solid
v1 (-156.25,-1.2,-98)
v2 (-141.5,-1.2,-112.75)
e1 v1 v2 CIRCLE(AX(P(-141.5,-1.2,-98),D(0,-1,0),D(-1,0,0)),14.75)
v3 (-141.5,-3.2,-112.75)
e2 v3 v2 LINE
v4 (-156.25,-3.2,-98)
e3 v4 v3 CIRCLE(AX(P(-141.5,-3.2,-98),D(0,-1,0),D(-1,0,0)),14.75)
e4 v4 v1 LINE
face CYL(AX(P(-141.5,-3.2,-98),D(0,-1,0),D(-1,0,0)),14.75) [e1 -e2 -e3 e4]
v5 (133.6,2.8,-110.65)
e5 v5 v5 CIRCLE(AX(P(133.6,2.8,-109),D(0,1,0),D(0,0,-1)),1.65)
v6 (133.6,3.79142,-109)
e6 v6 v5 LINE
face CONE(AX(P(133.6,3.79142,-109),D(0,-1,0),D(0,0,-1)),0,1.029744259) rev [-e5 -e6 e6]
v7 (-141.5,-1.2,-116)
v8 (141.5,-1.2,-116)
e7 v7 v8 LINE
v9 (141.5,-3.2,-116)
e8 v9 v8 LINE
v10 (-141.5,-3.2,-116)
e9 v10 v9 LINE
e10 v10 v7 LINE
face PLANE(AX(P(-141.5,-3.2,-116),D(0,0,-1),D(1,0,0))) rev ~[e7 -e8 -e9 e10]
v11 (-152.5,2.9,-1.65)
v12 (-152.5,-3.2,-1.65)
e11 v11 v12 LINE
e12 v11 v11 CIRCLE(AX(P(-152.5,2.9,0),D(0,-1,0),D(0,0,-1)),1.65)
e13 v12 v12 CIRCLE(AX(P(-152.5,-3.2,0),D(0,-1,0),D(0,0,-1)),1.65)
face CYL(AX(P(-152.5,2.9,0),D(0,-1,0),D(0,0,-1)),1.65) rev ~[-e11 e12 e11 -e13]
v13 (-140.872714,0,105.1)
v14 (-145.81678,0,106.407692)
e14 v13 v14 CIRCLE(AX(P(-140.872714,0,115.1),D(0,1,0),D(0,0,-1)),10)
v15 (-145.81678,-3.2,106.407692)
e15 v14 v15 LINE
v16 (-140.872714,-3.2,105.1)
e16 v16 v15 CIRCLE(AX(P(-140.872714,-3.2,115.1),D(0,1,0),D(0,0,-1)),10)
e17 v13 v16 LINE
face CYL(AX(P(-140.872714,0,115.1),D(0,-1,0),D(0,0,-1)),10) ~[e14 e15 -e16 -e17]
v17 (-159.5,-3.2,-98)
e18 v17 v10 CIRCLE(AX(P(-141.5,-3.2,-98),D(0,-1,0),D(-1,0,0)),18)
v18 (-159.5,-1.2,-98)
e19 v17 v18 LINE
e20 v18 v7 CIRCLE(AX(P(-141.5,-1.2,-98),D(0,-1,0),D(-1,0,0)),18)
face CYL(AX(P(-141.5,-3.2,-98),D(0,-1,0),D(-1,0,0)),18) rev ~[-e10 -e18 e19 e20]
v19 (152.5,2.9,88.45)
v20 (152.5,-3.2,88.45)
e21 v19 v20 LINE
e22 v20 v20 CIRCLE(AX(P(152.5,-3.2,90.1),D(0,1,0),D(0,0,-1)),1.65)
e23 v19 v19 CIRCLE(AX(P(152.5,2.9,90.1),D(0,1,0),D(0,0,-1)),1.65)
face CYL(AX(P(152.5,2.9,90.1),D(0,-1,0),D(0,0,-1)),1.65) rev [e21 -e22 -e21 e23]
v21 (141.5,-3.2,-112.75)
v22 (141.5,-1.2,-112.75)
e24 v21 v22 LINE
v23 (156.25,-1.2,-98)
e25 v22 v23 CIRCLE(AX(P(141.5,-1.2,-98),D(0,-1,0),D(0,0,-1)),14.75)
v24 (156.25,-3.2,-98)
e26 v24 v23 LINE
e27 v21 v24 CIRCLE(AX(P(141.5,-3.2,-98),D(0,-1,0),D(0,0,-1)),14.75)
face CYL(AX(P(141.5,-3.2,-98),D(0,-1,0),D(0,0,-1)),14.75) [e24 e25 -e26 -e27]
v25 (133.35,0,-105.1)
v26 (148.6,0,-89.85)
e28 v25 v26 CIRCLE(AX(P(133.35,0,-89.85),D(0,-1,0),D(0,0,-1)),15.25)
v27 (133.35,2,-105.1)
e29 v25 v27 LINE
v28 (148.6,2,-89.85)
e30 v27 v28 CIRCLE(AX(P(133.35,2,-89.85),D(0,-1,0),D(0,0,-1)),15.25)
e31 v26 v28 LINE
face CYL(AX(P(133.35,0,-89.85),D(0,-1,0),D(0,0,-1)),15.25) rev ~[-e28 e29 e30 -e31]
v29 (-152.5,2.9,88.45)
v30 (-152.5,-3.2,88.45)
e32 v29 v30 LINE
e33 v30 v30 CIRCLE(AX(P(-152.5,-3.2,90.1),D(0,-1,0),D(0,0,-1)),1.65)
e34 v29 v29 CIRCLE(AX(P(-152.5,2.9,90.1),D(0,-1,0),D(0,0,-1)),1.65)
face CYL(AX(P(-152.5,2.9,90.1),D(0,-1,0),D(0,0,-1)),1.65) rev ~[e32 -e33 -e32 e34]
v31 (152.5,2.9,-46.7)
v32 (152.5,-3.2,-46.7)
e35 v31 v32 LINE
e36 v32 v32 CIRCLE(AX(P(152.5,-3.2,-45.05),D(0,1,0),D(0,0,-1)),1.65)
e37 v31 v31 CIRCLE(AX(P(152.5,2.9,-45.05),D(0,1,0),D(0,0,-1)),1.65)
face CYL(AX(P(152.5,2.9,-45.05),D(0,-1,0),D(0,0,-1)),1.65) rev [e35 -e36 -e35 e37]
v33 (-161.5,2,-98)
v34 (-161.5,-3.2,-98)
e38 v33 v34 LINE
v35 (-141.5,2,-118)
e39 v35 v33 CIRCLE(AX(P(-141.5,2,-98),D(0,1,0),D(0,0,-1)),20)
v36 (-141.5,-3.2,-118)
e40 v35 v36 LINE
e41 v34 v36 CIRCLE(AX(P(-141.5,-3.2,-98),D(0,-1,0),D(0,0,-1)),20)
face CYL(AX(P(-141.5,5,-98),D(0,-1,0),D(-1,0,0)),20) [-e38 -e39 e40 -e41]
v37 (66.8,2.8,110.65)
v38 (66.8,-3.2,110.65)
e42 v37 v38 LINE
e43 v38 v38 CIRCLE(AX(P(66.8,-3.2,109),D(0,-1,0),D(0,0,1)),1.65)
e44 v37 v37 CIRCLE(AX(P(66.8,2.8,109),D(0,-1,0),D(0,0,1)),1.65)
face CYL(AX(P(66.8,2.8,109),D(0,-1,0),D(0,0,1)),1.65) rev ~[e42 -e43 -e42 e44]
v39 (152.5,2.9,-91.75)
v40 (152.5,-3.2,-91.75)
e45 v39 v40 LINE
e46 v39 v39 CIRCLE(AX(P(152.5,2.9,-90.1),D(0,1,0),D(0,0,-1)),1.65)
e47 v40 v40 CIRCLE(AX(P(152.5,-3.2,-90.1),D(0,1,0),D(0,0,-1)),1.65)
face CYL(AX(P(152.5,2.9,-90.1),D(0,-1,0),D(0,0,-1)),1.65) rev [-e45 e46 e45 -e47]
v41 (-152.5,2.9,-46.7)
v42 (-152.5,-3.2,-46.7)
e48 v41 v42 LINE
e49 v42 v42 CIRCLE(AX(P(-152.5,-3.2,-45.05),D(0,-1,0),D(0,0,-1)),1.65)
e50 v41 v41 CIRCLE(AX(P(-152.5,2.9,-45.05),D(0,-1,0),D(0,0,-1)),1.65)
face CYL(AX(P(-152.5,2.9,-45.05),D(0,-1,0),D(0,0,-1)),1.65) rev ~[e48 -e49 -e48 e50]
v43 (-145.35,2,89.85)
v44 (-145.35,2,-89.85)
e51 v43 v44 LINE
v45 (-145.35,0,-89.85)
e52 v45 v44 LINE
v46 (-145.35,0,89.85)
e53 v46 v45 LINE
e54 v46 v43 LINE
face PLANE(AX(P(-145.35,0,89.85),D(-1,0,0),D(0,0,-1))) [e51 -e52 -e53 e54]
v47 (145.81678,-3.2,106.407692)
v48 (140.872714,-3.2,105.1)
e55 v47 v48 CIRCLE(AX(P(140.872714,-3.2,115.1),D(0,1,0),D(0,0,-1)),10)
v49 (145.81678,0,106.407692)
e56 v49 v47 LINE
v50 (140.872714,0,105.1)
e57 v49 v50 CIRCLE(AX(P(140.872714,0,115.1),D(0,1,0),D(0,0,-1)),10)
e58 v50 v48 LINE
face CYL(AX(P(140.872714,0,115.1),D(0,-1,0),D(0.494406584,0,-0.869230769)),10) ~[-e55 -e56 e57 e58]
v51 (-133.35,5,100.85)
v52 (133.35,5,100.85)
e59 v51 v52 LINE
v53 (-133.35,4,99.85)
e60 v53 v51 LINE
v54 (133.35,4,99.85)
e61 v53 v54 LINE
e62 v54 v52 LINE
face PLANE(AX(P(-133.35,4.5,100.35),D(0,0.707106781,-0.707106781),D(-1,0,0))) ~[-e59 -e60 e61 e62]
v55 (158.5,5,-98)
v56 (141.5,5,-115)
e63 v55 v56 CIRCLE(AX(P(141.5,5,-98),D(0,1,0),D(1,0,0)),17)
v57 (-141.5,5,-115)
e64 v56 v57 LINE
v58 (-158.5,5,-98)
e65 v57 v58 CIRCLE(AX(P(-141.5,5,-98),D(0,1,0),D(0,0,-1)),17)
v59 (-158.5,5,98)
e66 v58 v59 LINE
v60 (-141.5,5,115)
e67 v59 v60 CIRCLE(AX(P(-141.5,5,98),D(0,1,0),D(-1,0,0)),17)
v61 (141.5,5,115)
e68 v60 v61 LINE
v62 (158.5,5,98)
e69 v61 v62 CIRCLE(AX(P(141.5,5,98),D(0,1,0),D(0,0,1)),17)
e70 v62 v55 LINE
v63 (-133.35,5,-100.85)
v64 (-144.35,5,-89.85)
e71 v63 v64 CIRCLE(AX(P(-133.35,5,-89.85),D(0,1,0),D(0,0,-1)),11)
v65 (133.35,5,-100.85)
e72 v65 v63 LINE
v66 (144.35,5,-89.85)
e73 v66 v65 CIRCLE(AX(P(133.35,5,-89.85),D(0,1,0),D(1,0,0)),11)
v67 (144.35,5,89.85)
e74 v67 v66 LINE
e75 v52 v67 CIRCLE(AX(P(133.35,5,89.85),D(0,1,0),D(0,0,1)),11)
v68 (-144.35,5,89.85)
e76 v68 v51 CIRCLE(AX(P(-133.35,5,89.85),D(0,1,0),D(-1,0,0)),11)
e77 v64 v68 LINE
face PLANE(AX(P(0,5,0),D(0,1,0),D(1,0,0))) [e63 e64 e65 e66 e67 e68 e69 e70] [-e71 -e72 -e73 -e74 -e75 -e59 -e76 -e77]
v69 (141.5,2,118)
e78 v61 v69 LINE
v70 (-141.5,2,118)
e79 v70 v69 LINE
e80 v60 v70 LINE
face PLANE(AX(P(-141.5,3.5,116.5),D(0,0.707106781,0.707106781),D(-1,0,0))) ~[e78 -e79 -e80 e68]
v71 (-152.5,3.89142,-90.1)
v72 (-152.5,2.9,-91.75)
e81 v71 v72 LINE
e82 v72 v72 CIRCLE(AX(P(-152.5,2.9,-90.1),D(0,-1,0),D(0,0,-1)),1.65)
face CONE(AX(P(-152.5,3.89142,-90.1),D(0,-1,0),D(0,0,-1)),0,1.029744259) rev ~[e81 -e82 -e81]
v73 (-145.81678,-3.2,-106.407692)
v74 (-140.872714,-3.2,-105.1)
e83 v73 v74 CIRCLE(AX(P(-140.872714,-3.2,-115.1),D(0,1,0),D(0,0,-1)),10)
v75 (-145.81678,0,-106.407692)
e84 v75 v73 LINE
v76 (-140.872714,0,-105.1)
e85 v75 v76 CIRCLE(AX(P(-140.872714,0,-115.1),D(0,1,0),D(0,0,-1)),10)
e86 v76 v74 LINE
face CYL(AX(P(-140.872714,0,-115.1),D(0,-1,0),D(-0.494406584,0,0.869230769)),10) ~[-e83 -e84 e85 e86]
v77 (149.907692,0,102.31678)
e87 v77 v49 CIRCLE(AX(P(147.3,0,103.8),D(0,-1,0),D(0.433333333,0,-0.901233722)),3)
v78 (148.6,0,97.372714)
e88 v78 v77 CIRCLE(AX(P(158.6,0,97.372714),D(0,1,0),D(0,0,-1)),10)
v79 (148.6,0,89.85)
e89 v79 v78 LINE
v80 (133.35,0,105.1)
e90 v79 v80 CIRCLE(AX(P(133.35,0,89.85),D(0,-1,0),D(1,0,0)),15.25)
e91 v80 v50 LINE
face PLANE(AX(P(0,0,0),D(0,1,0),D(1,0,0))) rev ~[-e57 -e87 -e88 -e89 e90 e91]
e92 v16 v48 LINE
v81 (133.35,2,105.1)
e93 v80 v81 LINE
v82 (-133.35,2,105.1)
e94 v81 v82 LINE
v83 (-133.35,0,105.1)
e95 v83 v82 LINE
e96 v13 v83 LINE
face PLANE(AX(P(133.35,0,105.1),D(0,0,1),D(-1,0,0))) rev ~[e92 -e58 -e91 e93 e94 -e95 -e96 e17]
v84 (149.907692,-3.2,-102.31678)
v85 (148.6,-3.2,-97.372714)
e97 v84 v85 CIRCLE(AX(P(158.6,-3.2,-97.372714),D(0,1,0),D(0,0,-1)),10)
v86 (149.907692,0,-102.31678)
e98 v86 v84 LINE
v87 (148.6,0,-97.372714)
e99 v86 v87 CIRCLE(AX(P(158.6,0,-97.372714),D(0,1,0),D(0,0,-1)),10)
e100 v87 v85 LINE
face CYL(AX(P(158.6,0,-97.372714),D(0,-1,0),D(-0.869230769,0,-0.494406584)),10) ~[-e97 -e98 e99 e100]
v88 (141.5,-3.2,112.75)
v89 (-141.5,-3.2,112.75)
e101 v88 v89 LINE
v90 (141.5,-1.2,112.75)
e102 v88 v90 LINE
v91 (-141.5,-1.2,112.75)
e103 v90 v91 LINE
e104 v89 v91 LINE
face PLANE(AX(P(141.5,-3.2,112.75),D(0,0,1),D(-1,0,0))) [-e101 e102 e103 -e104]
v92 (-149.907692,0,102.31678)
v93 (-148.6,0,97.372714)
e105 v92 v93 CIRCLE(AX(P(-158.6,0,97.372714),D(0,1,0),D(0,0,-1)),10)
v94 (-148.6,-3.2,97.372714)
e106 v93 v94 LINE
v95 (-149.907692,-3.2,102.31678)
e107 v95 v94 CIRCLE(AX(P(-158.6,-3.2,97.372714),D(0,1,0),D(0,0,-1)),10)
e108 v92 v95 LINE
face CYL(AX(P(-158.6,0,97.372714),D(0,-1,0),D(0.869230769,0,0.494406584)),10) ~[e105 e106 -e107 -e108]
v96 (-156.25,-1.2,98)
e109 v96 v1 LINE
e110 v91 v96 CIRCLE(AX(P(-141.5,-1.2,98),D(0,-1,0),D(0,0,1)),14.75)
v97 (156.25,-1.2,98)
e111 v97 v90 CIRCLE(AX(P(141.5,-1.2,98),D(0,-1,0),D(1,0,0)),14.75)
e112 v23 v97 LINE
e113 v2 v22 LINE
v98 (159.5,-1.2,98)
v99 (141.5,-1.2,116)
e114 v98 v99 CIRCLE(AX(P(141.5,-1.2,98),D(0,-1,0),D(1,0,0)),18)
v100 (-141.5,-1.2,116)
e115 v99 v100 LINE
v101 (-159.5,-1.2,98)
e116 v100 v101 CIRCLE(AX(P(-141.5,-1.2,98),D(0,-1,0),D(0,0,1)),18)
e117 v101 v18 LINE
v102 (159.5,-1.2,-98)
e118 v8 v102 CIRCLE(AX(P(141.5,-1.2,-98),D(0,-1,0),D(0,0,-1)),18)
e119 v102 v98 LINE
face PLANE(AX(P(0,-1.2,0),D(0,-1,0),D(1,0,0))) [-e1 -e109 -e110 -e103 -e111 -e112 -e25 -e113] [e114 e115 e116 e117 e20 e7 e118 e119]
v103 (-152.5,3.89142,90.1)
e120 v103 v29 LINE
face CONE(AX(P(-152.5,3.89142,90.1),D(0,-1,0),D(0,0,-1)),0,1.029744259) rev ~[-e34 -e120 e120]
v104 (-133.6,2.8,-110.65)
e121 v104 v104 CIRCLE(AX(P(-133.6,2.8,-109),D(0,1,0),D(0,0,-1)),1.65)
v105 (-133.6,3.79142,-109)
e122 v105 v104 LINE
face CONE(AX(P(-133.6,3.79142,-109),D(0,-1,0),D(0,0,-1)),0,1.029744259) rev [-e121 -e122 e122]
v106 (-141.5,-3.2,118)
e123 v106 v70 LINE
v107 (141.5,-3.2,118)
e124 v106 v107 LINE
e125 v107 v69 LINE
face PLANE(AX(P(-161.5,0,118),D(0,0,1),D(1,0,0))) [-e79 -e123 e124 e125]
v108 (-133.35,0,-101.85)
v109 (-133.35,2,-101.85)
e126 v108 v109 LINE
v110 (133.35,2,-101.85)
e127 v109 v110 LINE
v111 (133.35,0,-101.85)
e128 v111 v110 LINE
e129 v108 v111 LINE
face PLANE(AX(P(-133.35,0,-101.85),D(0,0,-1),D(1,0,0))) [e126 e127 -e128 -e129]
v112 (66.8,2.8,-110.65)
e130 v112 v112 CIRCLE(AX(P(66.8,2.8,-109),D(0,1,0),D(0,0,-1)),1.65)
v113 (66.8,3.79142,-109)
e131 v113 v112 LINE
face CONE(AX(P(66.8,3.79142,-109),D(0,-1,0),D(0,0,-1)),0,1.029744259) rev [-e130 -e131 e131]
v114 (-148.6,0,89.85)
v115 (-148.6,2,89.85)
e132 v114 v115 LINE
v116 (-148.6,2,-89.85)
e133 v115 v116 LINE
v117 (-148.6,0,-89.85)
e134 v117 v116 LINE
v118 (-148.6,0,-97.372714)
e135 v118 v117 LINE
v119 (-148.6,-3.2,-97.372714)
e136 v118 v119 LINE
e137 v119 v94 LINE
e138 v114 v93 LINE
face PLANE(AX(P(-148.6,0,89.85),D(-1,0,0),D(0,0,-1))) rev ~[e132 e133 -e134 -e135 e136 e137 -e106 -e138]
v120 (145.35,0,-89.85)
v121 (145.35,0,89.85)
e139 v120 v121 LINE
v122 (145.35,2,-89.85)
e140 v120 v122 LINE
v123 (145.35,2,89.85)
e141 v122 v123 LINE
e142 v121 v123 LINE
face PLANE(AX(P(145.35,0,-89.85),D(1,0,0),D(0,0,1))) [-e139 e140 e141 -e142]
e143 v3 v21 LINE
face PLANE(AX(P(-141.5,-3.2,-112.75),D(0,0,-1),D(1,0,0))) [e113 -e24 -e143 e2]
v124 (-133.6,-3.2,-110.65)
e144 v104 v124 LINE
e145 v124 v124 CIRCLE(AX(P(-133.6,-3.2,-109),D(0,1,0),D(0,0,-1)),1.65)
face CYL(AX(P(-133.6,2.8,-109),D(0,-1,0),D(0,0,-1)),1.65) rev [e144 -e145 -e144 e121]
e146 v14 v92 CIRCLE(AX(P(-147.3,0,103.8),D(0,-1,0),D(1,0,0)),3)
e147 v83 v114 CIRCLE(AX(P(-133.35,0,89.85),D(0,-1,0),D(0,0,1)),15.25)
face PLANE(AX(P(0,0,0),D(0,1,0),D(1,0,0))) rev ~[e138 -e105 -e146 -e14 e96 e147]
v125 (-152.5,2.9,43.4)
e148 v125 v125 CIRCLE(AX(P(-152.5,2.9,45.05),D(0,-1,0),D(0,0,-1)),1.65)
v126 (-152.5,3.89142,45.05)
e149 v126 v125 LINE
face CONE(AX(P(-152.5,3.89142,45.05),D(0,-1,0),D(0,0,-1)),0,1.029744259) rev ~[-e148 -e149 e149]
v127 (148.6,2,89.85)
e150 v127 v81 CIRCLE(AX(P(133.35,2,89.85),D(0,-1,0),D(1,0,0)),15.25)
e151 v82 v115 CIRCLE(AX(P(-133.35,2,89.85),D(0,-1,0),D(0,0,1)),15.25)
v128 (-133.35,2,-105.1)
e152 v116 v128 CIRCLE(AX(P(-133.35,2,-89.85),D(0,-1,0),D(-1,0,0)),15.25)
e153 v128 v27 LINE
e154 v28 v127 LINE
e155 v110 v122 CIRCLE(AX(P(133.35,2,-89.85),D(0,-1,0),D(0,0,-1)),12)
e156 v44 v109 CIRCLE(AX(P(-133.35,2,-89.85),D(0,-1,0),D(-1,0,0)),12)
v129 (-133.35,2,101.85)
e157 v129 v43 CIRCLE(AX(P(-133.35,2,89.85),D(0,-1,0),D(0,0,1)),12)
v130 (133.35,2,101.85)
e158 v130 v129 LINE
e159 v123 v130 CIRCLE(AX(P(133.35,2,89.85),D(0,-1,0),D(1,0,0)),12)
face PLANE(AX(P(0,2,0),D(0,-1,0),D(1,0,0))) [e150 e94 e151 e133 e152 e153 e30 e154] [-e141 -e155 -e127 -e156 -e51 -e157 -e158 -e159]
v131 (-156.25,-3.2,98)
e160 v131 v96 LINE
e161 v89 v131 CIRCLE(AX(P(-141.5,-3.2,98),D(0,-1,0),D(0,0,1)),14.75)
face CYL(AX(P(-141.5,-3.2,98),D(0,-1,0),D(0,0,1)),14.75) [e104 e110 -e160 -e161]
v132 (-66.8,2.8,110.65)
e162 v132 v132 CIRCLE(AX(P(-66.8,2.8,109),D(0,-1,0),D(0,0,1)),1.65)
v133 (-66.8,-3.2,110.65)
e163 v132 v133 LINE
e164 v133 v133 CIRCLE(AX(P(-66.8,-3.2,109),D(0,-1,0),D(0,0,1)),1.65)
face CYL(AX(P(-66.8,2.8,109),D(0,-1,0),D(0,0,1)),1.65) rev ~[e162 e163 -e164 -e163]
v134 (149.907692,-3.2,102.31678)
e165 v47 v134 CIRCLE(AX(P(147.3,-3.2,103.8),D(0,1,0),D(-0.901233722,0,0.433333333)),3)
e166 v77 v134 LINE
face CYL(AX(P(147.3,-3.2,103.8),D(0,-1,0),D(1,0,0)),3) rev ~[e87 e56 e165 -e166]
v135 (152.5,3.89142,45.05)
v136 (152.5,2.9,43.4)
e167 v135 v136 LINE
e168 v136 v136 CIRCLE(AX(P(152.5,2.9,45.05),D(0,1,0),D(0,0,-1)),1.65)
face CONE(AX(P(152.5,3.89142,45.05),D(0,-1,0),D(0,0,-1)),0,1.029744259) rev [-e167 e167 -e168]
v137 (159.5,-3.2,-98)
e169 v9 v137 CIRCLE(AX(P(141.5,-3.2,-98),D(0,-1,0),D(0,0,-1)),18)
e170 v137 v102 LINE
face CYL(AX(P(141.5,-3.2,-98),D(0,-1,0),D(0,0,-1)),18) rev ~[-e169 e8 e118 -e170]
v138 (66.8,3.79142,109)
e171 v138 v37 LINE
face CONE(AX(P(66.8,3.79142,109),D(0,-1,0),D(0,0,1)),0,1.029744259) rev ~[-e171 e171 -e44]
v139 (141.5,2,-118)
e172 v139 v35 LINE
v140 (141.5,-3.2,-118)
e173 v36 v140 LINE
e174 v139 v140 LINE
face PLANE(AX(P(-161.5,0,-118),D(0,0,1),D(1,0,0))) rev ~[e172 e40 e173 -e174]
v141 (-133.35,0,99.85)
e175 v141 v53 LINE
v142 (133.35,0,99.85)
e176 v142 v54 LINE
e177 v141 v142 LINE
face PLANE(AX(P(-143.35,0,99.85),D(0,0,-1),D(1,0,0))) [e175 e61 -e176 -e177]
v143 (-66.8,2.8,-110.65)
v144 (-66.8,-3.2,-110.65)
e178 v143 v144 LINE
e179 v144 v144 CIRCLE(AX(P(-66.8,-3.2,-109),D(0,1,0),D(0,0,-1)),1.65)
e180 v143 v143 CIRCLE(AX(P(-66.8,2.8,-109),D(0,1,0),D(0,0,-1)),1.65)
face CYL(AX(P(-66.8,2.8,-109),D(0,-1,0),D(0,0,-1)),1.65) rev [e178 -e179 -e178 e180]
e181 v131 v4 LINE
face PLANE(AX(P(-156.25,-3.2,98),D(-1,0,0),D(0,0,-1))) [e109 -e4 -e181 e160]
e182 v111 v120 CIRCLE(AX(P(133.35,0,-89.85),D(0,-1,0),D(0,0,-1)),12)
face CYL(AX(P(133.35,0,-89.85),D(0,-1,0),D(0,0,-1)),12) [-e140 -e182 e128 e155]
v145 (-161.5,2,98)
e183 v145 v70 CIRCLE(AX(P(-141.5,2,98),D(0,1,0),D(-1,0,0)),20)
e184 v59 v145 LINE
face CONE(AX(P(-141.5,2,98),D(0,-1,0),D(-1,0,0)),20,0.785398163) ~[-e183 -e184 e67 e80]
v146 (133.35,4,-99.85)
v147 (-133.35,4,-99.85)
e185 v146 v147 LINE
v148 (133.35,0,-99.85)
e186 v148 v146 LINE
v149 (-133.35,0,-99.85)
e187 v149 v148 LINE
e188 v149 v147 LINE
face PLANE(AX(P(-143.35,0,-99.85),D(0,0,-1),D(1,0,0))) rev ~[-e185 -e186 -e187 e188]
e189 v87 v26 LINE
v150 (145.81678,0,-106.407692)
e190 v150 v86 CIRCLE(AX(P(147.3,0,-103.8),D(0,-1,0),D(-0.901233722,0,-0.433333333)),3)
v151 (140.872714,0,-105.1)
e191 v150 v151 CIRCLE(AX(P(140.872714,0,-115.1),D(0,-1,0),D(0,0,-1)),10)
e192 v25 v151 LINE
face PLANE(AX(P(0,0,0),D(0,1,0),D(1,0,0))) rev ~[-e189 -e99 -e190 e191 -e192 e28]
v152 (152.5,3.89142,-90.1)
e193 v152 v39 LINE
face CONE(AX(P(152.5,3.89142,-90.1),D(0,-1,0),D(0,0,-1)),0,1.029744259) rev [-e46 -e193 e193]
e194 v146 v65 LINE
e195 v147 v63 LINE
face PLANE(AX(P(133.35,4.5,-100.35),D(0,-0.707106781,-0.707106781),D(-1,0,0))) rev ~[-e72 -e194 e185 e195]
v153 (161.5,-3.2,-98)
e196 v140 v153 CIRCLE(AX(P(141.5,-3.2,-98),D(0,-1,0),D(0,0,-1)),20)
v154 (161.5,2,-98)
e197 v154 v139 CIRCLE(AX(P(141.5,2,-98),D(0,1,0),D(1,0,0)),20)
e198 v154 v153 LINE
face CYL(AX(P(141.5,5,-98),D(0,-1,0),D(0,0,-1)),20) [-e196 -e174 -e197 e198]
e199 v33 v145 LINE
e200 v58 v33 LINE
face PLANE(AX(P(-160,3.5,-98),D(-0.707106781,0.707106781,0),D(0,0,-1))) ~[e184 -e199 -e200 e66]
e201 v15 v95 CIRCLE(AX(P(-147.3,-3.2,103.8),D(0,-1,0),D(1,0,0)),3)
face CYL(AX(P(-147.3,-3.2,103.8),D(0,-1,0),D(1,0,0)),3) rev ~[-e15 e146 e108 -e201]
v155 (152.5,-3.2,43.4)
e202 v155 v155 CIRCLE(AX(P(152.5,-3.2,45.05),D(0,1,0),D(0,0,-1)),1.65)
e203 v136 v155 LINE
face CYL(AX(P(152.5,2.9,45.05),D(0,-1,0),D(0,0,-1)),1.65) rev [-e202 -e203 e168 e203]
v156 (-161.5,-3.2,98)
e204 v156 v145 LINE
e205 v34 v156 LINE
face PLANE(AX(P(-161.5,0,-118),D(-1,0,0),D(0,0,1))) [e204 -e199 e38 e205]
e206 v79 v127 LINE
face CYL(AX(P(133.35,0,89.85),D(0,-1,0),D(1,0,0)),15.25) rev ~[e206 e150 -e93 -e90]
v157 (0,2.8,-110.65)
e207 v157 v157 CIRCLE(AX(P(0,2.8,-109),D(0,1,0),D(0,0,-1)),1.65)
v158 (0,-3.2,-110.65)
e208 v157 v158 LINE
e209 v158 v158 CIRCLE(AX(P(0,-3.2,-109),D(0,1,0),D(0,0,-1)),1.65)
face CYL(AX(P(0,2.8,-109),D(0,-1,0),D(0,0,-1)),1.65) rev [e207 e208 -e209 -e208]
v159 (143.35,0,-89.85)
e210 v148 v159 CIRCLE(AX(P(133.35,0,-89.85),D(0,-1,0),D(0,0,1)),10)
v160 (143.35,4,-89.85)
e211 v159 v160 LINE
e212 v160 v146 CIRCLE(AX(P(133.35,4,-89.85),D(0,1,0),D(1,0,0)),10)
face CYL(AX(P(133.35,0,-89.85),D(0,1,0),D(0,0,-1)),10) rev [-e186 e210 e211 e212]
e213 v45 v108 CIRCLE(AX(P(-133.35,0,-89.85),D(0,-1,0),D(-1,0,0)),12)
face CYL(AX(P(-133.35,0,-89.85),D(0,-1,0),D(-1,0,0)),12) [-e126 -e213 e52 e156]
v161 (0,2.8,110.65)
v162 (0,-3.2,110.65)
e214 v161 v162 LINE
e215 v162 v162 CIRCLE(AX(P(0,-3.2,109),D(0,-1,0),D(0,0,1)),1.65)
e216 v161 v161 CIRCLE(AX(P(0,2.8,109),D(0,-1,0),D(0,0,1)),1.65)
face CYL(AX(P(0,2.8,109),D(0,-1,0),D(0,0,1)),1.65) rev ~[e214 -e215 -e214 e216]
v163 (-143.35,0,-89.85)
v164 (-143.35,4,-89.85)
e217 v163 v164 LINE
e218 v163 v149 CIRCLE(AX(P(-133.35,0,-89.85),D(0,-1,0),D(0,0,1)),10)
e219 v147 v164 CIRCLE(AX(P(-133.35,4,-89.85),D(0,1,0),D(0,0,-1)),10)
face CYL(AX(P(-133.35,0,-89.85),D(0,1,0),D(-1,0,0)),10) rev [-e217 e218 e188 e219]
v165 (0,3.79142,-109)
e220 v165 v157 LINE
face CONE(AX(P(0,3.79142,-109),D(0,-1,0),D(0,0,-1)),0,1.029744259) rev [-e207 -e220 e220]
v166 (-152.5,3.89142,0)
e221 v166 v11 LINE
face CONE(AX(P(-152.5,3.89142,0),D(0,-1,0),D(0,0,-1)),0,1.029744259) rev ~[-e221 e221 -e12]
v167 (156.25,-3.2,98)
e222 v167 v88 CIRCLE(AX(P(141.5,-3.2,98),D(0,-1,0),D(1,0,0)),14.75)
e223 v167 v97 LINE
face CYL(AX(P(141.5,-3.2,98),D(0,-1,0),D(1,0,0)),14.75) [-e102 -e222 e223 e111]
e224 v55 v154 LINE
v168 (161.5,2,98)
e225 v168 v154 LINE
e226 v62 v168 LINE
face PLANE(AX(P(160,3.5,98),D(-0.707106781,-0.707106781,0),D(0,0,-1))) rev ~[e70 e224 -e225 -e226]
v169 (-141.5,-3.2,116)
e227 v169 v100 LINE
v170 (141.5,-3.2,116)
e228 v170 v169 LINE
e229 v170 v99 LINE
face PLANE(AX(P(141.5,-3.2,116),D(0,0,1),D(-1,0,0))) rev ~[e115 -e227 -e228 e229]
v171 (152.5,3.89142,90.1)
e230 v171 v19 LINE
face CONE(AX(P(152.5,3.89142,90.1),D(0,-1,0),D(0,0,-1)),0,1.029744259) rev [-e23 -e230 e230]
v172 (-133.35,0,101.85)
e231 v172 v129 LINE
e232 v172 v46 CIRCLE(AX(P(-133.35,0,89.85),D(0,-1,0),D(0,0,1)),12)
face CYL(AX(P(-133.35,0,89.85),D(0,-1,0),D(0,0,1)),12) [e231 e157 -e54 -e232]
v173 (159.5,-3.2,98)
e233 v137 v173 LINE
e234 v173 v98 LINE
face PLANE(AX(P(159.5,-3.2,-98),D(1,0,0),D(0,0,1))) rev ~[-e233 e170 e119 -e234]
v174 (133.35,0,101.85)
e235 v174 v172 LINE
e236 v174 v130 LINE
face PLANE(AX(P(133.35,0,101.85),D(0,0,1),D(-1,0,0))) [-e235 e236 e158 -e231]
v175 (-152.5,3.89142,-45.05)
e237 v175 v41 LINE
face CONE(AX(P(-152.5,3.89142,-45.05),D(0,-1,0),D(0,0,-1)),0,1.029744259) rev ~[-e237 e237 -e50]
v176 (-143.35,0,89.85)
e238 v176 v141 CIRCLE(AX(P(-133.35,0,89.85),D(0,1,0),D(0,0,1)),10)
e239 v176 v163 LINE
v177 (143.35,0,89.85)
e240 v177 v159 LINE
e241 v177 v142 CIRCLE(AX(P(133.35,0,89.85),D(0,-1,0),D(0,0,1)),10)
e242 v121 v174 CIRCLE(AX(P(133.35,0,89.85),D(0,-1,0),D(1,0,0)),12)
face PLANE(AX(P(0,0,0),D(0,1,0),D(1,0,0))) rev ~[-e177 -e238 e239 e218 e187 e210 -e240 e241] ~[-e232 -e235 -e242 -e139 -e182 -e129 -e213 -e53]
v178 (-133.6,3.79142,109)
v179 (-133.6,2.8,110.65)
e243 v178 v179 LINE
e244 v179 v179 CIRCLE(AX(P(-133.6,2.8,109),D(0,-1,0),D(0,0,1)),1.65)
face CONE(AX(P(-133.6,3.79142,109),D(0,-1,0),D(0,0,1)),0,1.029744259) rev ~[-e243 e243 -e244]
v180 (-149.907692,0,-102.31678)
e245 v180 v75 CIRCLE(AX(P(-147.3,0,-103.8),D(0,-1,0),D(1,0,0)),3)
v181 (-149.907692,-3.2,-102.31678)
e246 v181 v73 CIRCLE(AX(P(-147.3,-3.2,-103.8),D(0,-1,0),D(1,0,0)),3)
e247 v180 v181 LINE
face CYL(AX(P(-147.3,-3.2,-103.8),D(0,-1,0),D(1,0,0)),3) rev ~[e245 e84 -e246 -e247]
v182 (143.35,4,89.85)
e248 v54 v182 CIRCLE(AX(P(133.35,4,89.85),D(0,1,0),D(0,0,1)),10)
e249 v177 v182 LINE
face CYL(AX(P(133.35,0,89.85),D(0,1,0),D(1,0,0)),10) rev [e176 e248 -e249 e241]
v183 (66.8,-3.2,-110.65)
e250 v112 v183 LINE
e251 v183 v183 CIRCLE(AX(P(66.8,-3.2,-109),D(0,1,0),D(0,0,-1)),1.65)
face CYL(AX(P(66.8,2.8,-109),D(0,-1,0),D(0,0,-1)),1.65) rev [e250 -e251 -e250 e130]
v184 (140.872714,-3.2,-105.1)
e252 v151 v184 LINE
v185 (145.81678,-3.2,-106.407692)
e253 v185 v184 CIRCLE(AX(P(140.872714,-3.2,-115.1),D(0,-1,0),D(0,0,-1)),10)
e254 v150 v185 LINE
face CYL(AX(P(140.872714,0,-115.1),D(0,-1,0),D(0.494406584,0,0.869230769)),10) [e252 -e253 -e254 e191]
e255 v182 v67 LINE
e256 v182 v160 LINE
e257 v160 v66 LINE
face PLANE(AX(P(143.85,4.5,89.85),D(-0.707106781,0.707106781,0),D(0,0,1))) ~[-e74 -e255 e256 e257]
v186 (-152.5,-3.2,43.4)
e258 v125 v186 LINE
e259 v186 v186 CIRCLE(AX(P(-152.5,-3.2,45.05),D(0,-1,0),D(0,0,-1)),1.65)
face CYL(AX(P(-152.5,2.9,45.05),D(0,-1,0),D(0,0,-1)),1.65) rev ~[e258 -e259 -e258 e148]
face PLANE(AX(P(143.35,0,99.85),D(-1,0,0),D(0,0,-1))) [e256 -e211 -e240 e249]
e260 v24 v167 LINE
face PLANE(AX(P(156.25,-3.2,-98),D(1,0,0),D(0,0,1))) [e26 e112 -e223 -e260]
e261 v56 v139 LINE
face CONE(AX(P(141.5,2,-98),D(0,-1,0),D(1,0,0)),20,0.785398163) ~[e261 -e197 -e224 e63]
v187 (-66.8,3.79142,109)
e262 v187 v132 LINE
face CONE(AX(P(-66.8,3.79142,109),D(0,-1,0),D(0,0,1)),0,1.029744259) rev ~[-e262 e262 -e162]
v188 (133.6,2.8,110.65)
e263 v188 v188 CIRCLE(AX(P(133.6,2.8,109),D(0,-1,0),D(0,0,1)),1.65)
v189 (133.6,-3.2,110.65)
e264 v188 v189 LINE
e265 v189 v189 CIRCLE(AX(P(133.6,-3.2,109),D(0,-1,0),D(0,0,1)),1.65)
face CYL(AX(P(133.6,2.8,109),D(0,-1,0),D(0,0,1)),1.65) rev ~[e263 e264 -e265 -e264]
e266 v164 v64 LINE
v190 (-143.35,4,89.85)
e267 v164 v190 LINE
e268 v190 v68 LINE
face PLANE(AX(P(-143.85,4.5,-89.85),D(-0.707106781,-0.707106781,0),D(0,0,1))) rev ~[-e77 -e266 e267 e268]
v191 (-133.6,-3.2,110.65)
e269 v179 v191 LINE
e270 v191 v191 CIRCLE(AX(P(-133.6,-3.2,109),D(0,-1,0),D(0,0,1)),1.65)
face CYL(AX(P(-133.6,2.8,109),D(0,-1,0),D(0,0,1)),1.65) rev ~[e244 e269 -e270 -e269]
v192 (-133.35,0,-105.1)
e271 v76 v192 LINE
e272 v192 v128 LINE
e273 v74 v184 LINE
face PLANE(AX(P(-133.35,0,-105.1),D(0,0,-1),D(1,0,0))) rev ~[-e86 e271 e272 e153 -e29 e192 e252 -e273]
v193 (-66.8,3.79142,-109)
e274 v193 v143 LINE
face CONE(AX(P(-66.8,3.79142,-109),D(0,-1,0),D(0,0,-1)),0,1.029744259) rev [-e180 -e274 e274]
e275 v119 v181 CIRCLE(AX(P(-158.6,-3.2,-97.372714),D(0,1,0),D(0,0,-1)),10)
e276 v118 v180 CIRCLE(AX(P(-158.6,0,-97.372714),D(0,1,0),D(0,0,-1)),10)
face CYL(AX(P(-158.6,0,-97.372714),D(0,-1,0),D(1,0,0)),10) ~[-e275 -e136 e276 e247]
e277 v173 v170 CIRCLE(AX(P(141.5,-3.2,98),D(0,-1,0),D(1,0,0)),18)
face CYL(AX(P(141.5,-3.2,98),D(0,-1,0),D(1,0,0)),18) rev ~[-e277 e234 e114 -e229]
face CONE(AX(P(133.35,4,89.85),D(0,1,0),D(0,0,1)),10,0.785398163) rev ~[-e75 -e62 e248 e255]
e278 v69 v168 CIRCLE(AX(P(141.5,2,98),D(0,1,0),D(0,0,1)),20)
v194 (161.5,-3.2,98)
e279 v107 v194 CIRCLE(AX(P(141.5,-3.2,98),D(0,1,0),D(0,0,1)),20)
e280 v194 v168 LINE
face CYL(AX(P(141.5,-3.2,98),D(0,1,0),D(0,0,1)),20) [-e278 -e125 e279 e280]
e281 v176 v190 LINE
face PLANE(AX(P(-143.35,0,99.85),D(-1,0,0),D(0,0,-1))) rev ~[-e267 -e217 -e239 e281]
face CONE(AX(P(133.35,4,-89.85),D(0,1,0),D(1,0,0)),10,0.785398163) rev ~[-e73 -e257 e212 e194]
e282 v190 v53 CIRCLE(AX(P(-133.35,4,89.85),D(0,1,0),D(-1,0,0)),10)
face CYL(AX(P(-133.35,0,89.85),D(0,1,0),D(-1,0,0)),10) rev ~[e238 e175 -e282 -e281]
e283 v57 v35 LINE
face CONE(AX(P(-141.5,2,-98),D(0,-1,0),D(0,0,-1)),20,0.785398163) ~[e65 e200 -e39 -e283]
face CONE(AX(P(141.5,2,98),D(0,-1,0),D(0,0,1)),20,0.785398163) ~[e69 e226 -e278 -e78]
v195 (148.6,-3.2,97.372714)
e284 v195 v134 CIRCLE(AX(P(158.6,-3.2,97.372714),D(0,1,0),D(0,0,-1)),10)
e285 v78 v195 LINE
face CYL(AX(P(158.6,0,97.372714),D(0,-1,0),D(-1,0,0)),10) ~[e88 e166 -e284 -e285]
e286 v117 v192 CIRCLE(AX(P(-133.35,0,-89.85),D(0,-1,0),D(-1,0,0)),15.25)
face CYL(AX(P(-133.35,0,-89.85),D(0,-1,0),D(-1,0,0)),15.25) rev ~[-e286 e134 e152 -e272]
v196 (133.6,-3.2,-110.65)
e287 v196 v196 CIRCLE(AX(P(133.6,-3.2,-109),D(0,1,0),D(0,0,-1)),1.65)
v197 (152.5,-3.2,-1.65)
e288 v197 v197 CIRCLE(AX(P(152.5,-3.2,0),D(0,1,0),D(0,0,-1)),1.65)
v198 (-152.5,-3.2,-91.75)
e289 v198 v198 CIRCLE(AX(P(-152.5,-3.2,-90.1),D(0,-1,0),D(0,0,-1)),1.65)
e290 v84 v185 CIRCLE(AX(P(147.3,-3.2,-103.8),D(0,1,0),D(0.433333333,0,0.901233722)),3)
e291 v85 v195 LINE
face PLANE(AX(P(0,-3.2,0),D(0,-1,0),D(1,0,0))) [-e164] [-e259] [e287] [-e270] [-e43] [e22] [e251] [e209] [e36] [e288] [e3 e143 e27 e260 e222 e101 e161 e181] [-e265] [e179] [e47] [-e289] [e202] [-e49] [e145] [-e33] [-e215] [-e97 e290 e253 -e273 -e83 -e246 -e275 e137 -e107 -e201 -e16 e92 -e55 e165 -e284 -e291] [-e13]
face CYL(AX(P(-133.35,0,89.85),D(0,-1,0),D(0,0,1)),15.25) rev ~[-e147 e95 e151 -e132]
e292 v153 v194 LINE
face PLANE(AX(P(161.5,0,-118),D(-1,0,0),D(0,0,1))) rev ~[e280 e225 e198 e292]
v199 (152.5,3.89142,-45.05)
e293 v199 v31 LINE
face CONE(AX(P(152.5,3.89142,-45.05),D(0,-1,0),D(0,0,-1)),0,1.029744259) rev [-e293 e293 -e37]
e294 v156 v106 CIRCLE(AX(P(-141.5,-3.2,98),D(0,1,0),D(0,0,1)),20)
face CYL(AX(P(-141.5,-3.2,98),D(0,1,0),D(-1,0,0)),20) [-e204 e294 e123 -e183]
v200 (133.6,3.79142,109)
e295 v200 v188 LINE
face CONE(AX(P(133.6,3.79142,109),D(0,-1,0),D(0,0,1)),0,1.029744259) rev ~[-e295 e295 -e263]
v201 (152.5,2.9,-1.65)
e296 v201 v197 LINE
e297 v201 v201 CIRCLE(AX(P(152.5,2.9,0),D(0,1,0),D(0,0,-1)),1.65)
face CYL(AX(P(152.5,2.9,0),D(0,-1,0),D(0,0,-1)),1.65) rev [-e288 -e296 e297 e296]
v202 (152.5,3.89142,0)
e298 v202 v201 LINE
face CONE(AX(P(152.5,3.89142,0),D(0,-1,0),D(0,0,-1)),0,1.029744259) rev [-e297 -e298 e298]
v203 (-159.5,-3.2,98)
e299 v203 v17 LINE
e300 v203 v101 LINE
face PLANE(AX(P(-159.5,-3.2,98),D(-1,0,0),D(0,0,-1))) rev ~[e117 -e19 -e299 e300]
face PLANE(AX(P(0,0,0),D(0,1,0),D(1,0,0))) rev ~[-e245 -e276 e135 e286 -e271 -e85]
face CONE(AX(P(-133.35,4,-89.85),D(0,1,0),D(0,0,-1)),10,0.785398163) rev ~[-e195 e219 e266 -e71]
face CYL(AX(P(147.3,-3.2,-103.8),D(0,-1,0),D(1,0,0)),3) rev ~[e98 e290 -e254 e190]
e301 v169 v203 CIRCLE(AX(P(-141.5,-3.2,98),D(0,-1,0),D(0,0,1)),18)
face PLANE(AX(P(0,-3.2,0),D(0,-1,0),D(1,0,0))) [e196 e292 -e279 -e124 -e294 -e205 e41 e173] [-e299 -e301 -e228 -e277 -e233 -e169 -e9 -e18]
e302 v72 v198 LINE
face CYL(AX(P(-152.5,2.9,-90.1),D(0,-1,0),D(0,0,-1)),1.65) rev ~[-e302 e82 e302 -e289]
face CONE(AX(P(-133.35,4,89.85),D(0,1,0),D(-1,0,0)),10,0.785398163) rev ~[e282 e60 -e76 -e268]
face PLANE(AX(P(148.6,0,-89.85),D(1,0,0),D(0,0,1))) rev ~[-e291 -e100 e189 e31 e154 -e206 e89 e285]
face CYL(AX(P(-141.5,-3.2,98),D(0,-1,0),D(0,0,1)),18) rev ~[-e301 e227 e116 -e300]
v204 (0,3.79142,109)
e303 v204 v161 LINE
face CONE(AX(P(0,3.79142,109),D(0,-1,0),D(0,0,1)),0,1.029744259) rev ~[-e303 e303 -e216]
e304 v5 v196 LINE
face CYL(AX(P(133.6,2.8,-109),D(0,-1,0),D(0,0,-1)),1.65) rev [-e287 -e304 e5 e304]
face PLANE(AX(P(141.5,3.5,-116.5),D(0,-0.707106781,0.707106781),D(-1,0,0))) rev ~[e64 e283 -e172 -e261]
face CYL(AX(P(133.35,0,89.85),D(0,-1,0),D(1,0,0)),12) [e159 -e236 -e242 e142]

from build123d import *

# Parameters (mm, degrees)
SKETCH1_W                  = 323
SKETCH1_H                  = 236
SKETCH1_W_2                = 286.7
SKETCH1_H_2                = 199.7
BOSS_EXTRUDE1_DEPTH        = 5
SKETCH2_W                  = 323
SKETCH2_H                  = 236
SKETCH2_W_2                = 297.2
SKETCH2_H_2                = 210.2
BOSS_EXTRUDE2_DEPTH        = 3.2
FILLET1_R                  = 10
FILLET2_R                  = 20
M4_TAPPED_HOLE1_AT_2_COUNT = 2
M4_TAPPED_HOLE1_AT_2_PITCH = 66.8
M4_TAPPED_HOLE1_AT_3_COUNT = 2
M4_TAPPED_HOLE1_AT_3_PITCH = 133.6
M4_TAPPED_HOLE1_AT_4_COUNT = 2
M4_TAPPED_HOLE1_AT_4_PITCH = 200.4
M4_TAPPED_HOLE1_AT_5_COUNT = 2
M4_TAPPED_HOLE1_AT_5_PITCH = 267.2
M4_TAPPED_HOLE2_AT_2_COUNT = 2
M4_TAPPED_HOLE2_AT_2_PITCH = 45.05
M4_TAPPED_HOLE2_AT_3_COUNT = 2
M4_TAPPED_HOLE2_AT_3_PITCH = 90.1
M4_TAPPED_HOLE2_AT_4_COUNT = 2
M4_TAPPED_HOLE2_AT_4_PITCH = 135.15
M4_TAPPED_HOLE2_AT_5_COUNT = 2
M4_TAPPED_HOLE2_AT_5_PITCH = 180.2
CHAMFER2_SIZE              = 3
SKETCH7_R                  = 3
CUT_EXTRUDE1_DEPTH         = 3.2
FILLET3_R                  = 10
CHAMFER3_SIZE              = 1
CUT_EXTRUDE2_DEPTH         = 2
CUT_EXTRUDE3_DEPTH         = 2


with BuildPart() as part:
    # Sketch1 → Boss-Extrude1 (new body)
    with BuildSketch(Plane(origin=(0, 0, 0), x_dir=(1, 0, 0), z_dir=(0, 1, 0))):
        Rectangle(SKETCH1_W, SKETCH1_H)
        Rectangle(SKETCH1_W_2, SKETCH1_H_2, mode=Mode.SUBTRACT)
    extrude(amount=BOSS_EXTRUDE1_DEPTH)

    # Sketch2 → Boss-Extrude2 (add)
    with BuildSketch(Plane.XZ):
        Rectangle(SKETCH2_W, SKETCH2_H)
        Rectangle(SKETCH2_W_2, SKETCH2_H_2, mode=Mode.SUBTRACT)
    extrude(amount=BOSS_EXTRUDE2_DEPTH)

    # Fillet1
    fillet1_edges = [part.edges().sort_by_distance(p)[0] for p in [
        (-143.35, 2.5, 99.85),
        (143.35, 2.5, 99.85),
        (143.35, 2.5, -99.85),
        (-143.35, 2.5, -99.85),
    ]]
    fillet(fillet1_edges, radius=FILLET1_R)

    # Fillet2
    fillet2_edges = [part.edges().sort_by_distance(p)[0] for p in [
        (-161.5, 0.9, 118),
        (-161.5, 0.9, -118),
        (161.5, 0.9, -118),
        (161.5, 0.9, 118),
    ]]
    fillet(fillet2_edges, radius=FILLET2_R)

    # Sketch4 → M4 Tapped Hole1 (revolve, cut)
    with BuildSketch(Plane(origin=(133.6, -3.2, -109), x_dir=(0, 0, -1), z_dir=(1, 0, 0))):
        Polygon((0, 0), (0, 6.991420021), (1.65, 6), (1.65, 0), align=None)
    m4_tapped_hole1 = revolve(axis=Axis((133.6, -9.55, -109), (0, 1, 0)), mode=Mode.SUBTRACT)

    # M4 Tapped Hole1 at 2: M4 Tapped Hole1 ×2
    with Locations(*[(-i * M4_TAPPED_HOLE1_AT_2_PITCH, 0, 0) for i in range(1, M4_TAPPED_HOLE1_AT_2_COUNT)]):
        add(m4_tapped_hole1, mode=Mode.SUBTRACT)

    # M4 Tapped Hole1 at 3: M4 Tapped Hole1 ×2
    with Locations(*[(-i * M4_TAPPED_HOLE1_AT_3_PITCH, 0, 0) for i in range(1, M4_TAPPED_HOLE1_AT_3_COUNT)]):
        add(m4_tapped_hole1, mode=Mode.SUBTRACT)

    # M4 Tapped Hole1 at 4: M4 Tapped Hole1 ×2
    with Locations(*[(-i * M4_TAPPED_HOLE1_AT_4_PITCH, 0, 0) for i in range(1, M4_TAPPED_HOLE1_AT_4_COUNT)]):
        add(m4_tapped_hole1, mode=Mode.SUBTRACT)

    # M4 Tapped Hole1 at 5: M4 Tapped Hole1 ×2
    with Locations(*[(-i * M4_TAPPED_HOLE1_AT_5_PITCH, 0, 0) for i in range(1, M4_TAPPED_HOLE1_AT_5_COUNT)]):
        add(m4_tapped_hole1, mode=Mode.SUBTRACT)

    # Mirror1: M4 Tapped Hole1 across plane
    add(m4_tapped_hole1.mirror(Plane.XY), mode=Mode.SUBTRACT)

    # Mirror1 copy 1 sketch → Mirror1 copy 1 (revolve, cut)
    with BuildSketch(Plane(origin=(66.8, -3.2, 109), x_dir=(0, 0, 1), z_dir=(1, 0, 0))):
        Polygon((0, 0), (0, -6.991420021), (1.65, -6), (1.65, 0), align=None)
    revolve(axis=Axis((66.8, -9.55, 109), (0, -1, 0)), mode=Mode.SUBTRACT)

    # Mirror1 copy 2 sketch → Mirror1 copy 2 (revolve, cut)
    with BuildSketch(Plane(origin=(0, -3.2, 109), x_dir=(0, 0, 1), z_dir=(1, 0, 0))):
        Polygon((0, 0), (0, -6.991420021), (1.65, -6), (1.65, 0), align=None)
    revolve(axis=Axis((0, -9.55, 109), (0, -1, 0)), mode=Mode.SUBTRACT)

    # Mirror1 copy 3 sketch → Mirror1 copy 3 (revolve, cut)
    with BuildSketch(Plane(origin=(-66.8, -3.2, 109), x_dir=(0, 0, 1), z_dir=(1, 0, 0))):
        Polygon((0, 0), (0, -6.991420021), (1.65, -6), (1.65, 0), align=None)
    revolve(axis=Axis((-66.8, -9.55, 109), (0, -1, 0)), mode=Mode.SUBTRACT)

    # Mirror1 copy 4 sketch → Mirror1 copy 4 (revolve, cut)
    with BuildSketch(Plane(origin=(-133.6, -3.2, 109), x_dir=(0, 0, 1), z_dir=(1, 0, 0))):
        Polygon((0, 0), (0, -6.991420021), (1.65, -6), (1.65, 0), align=None)
    revolve(axis=Axis((-133.6, -9.55, 109), (0, -1, 0)), mode=Mode.SUBTRACT)

    # Sketch6 → M4 Tapped Hole2 (revolve, cut)
    with BuildSketch(Plane(origin=(152.5, -3.2, -90.1), x_dir=(0, 0, -1), z_dir=(1, 0, 0))):
        Polygon((0, 0), (0, 7.091420021), (1.65, 6.1), (1.65, 0), align=None)
    m4_tapped_hole2 = revolve(axis=Axis((152.5, -9.55, -90.1), (0, 1, 0)), mode=Mode.SUBTRACT)

    # M4 Tapped Hole2 at 2: M4 Tapped Hole2 ×2
    with Locations(*[(0, 0, i * M4_TAPPED_HOLE2_AT_2_PITCH) for i in range(1, M4_TAPPED_HOLE2_AT_2_COUNT)]):
        add(m4_tapped_hole2, mode=Mode.SUBTRACT)

    # M4 Tapped Hole2 at 3: M4 Tapped Hole2 ×2
    with Locations(*[(0, 0, i * M4_TAPPED_HOLE2_AT_3_PITCH) for i in range(1, M4_TAPPED_HOLE2_AT_3_COUNT)]):
        add(m4_tapped_hole2, mode=Mode.SUBTRACT)

    # M4 Tapped Hole2 at 4: M4 Tapped Hole2 ×2
    with Locations(*[(0, 0, i * M4_TAPPED_HOLE2_AT_4_PITCH) for i in range(1, M4_TAPPED_HOLE2_AT_4_COUNT)]):
        add(m4_tapped_hole2, mode=Mode.SUBTRACT)

    # M4 Tapped Hole2 at 5: M4 Tapped Hole2 ×2
    with Locations(*[(0, 0, i * M4_TAPPED_HOLE2_AT_5_PITCH) for i in range(1, M4_TAPPED_HOLE2_AT_5_COUNT)]):
        add(m4_tapped_hole2, mode=Mode.SUBTRACT)

    # Mirror2: M4 Tapped Hole2 across plane
    add(m4_tapped_hole2.mirror(Plane(origin=(0, 0, 0), x_dir=(0, 0, 1), z_dir=(1, 0, 0))), mode=Mode.SUBTRACT)

    # Mirror2 copy 1 sketch → Mirror2 copy 1 (revolve, cut)
    with BuildSketch(Plane(origin=(-152.5, -3.2, -45.05), x_dir=(0, 0, -1), z_dir=(-1, 0, 0))):
        Polygon((0, 0), (0, -7.091420021), (1.65, -6.1), (1.65, 0), align=None)
    revolve(axis=Axis((-152.5, -9.55, -45.05), (0, -1, 0)), mode=Mode.SUBTRACT)

    # Mirror2 copy 2 sketch → Mirror2 copy 2 (revolve, cut)
    with BuildSketch(Plane(origin=(-152.5, -3.2, 0), x_dir=(0, 0, -1), z_dir=(-1, 0, 0))):
        Polygon((0, 0), (0, -7.091420021), (1.65, -6.1), (1.65, 0), align=None)
    revolve(axis=Axis((-152.5, -9.55, 0), (0, -1, 0)), mode=Mode.SUBTRACT)

    # Mirror2 copy 3 sketch → Mirror2 copy 3 (revolve, cut)
    with BuildSketch(Plane(origin=(-152.5, -3.2, 45.05), x_dir=(0, 0, -1), z_dir=(-1, 0, 0))):
        Polygon((0, 0), (0, -7.091420021), (1.65, -6.1), (1.65, 0), align=None)
    revolve(axis=Axis((-152.5, -9.55, 45.05), (0, -1, 0)), mode=Mode.SUBTRACT)

    # Mirror2 copy 4 sketch → Mirror2 copy 4 (revolve, cut)
    with BuildSketch(Plane(origin=(-152.5, -3.2, 90.1), x_dir=(0, 0, -1), z_dir=(-1, 0, 0))):
        Polygon((0, 0), (0, -7.091420021), (1.65, -6.1), (1.65, 0), align=None)
    revolve(axis=Axis((-152.5, -9.55, 90.1), (0, -1, 0)), mode=Mode.SUBTRACT)

    # Chamfer2
    chamfer2_edges = [part.edges().sort_by_distance(p)[0] for p in [
        (0, 5, 118),
        (-161.5, 5, 0),
        (161.5, 5, 0),
        (0, 5, -118),
        (-155.642135624, 5, -112.142135624),
        (155.642135624, 5, 112.142135624),
        (155.642135624, 5, -112.142135624),
        (-155.642135624, 5, 112.142135624),
    ]]
    chamfer(chamfer2_edges, length=CHAMFER2_SIZE)

    # Sketch7 → Cut-Extrude1 (cut)
    with BuildSketch(Plane.XZ.offset(3.2)):
        with Locations((147.3, -103.8)):
            Circle(SKETCH7_R)
        with Locations((-147.3, -103.8)):
            Circle(SKETCH7_R)
        with Locations((-147.3, 103.8)):
            Circle(SKETCH7_R)
        with Locations((147.3, 103.8)):
            Circle(SKETCH7_R)
    extrude(amount=-CUT_EXTRUDE1_DEPTH, mode=Mode.SUBTRACT)

    # Fillet3
    fillet3_edges = [part.edges().sort_by_distance(p)[0] for p in [
        (144.596298833, -1.6, -105.1),
        (-144.596298833, -1.6, -105.1),
        (-148.6, -1.6, 101.096298833),
        (144.596298833, -1.6, 105.1),
        (148.6, -1.6, 101.096298833),
        (-144.596298833, -1.6, 105.1),
        (-148.6, -1.6, -101.096298833),
        (148.6, -1.6, -101.096298833),
    ]]
    fillet(fillet3_edges, radius=FILLET3_R)

    # Chamfer3
    chamfer3_edges = [part.edges().sort_by_distance(p)[0] for p in [
        (0, 5, 99.85),
        (143.35, 5, 0),
        (0, 5, -99.85),
        (-143.35, 5, 0),
        (140.421067812, 5, 96.921067812),
        (140.421067812, 5, -96.921067812),
        (-140.421067812, 5, 96.921067812),
        (-140.421067812, 5, -96.921067812),
    ]]
    chamfer(chamfer3_edges, length=CHAMFER3_SIZE)

    # Sketch8 → Cut-Extrude2 (cut)
    with BuildSketch(Plane.XZ):
        with BuildLine():
            Line((148.6, -89.85), (148.6, 89.85))
            ThreePointArc((148.6, 89.85), (144.133378413, 100.633378413), (133.35, 105.1))
            Line((133.35, 105.1), (-133.35, 105.1))
            ThreePointArc((-133.35, 105.1), (-144.133378413, 100.633378413), (-148.6, 89.85))
            Line((-148.6, 89.85), (-148.6, -89.85))
            ThreePointArc((-148.6, -89.85), (-144.133378413, -100.633378413), (-133.35, -105.1))
            Line((-133.35, -105.1), (133.35, -105.1))
            ThreePointArc((133.35, -105.1), (144.133378413, -100.633378413), (148.6, -89.85))
        make_face()
        with BuildLine():
            Line((133.35, 101.85), (-133.35, 101.85))
            ThreePointArc((-133.35, 101.85), (-141.835281374, 98.335281374), (-145.35, 89.85))
            Line((-145.35, 89.85), (-145.35, -89.85))
            ThreePointArc((-145.35, -89.85), (-141.835281374, -98.335281374), (-133.35, -101.85))
            Line((-133.35, -101.85), (133.35, -101.85))
            ThreePointArc((133.35, -101.85), (141.835281374, -98.335281374), (145.35, -89.85))
            Line((145.35, -89.85), (145.35, 89.85))
            ThreePointArc((145.35, 89.85), (141.835281374, 98.335281374), (133.35, 101.85))
        make_face(mode=Mode.SUBTRACT)
    extrude(amount=-CUT_EXTRUDE2_DEPTH, mode=Mode.SUBTRACT)

    # Sketch9 → Cut-Extrude3 (cut)
    with BuildSketch(Plane.XZ.offset(3.2)):
        with BuildLine():
            Line((141.5, 116), (-141.5, 116))
            ThreePointArc((-141.5, 116), (-154.227922061, 110.727922061), (-159.5, 98))
            Line((-159.5, 98), (-159.5, -98))
            ThreePointArc((-159.5, -98), (-154.227922061, -110.727922061), (-141.5, -116))
            Line((-141.5, -116), (141.5, -116))
            ThreePointArc((141.5, -116), (154.227922061, -110.727922061), (159.5, -98))
            Line((159.5, -98), (159.5, 98))
            ThreePointArc((159.5, 98), (154.227922061, 110.727922061), (141.5, 116))
        make_face()
        with BuildLine():
            Line((156.25, -98), (156.25, 98))
            ThreePointArc((156.25, 98), (151.929825023, 108.429825023), (141.5, 112.75))
            Line((141.5, 112.75), (-141.5, 112.75))
            ThreePointArc((-141.5, 112.75), (-151.929825023, 108.429825023), (-156.25, 98))
            Line((-156.25, 98), (-156.25, -98))
            ThreePointArc((-156.25, -98), (-151.929825023, -108.429825023), (-141.5, -112.75))
            Line((-141.5, -112.75), (141.5, -112.75))
            ThreePointArc((141.5, -112.75), (151.929825023, -108.429825023), (156.25, -98))
        make_face(mode=Mode.SUBTRACT)
    extrude(amount=-CUT_EXTRUDE3_DEPTH, mode=Mode.SUBTRACT)


solid = part.part
